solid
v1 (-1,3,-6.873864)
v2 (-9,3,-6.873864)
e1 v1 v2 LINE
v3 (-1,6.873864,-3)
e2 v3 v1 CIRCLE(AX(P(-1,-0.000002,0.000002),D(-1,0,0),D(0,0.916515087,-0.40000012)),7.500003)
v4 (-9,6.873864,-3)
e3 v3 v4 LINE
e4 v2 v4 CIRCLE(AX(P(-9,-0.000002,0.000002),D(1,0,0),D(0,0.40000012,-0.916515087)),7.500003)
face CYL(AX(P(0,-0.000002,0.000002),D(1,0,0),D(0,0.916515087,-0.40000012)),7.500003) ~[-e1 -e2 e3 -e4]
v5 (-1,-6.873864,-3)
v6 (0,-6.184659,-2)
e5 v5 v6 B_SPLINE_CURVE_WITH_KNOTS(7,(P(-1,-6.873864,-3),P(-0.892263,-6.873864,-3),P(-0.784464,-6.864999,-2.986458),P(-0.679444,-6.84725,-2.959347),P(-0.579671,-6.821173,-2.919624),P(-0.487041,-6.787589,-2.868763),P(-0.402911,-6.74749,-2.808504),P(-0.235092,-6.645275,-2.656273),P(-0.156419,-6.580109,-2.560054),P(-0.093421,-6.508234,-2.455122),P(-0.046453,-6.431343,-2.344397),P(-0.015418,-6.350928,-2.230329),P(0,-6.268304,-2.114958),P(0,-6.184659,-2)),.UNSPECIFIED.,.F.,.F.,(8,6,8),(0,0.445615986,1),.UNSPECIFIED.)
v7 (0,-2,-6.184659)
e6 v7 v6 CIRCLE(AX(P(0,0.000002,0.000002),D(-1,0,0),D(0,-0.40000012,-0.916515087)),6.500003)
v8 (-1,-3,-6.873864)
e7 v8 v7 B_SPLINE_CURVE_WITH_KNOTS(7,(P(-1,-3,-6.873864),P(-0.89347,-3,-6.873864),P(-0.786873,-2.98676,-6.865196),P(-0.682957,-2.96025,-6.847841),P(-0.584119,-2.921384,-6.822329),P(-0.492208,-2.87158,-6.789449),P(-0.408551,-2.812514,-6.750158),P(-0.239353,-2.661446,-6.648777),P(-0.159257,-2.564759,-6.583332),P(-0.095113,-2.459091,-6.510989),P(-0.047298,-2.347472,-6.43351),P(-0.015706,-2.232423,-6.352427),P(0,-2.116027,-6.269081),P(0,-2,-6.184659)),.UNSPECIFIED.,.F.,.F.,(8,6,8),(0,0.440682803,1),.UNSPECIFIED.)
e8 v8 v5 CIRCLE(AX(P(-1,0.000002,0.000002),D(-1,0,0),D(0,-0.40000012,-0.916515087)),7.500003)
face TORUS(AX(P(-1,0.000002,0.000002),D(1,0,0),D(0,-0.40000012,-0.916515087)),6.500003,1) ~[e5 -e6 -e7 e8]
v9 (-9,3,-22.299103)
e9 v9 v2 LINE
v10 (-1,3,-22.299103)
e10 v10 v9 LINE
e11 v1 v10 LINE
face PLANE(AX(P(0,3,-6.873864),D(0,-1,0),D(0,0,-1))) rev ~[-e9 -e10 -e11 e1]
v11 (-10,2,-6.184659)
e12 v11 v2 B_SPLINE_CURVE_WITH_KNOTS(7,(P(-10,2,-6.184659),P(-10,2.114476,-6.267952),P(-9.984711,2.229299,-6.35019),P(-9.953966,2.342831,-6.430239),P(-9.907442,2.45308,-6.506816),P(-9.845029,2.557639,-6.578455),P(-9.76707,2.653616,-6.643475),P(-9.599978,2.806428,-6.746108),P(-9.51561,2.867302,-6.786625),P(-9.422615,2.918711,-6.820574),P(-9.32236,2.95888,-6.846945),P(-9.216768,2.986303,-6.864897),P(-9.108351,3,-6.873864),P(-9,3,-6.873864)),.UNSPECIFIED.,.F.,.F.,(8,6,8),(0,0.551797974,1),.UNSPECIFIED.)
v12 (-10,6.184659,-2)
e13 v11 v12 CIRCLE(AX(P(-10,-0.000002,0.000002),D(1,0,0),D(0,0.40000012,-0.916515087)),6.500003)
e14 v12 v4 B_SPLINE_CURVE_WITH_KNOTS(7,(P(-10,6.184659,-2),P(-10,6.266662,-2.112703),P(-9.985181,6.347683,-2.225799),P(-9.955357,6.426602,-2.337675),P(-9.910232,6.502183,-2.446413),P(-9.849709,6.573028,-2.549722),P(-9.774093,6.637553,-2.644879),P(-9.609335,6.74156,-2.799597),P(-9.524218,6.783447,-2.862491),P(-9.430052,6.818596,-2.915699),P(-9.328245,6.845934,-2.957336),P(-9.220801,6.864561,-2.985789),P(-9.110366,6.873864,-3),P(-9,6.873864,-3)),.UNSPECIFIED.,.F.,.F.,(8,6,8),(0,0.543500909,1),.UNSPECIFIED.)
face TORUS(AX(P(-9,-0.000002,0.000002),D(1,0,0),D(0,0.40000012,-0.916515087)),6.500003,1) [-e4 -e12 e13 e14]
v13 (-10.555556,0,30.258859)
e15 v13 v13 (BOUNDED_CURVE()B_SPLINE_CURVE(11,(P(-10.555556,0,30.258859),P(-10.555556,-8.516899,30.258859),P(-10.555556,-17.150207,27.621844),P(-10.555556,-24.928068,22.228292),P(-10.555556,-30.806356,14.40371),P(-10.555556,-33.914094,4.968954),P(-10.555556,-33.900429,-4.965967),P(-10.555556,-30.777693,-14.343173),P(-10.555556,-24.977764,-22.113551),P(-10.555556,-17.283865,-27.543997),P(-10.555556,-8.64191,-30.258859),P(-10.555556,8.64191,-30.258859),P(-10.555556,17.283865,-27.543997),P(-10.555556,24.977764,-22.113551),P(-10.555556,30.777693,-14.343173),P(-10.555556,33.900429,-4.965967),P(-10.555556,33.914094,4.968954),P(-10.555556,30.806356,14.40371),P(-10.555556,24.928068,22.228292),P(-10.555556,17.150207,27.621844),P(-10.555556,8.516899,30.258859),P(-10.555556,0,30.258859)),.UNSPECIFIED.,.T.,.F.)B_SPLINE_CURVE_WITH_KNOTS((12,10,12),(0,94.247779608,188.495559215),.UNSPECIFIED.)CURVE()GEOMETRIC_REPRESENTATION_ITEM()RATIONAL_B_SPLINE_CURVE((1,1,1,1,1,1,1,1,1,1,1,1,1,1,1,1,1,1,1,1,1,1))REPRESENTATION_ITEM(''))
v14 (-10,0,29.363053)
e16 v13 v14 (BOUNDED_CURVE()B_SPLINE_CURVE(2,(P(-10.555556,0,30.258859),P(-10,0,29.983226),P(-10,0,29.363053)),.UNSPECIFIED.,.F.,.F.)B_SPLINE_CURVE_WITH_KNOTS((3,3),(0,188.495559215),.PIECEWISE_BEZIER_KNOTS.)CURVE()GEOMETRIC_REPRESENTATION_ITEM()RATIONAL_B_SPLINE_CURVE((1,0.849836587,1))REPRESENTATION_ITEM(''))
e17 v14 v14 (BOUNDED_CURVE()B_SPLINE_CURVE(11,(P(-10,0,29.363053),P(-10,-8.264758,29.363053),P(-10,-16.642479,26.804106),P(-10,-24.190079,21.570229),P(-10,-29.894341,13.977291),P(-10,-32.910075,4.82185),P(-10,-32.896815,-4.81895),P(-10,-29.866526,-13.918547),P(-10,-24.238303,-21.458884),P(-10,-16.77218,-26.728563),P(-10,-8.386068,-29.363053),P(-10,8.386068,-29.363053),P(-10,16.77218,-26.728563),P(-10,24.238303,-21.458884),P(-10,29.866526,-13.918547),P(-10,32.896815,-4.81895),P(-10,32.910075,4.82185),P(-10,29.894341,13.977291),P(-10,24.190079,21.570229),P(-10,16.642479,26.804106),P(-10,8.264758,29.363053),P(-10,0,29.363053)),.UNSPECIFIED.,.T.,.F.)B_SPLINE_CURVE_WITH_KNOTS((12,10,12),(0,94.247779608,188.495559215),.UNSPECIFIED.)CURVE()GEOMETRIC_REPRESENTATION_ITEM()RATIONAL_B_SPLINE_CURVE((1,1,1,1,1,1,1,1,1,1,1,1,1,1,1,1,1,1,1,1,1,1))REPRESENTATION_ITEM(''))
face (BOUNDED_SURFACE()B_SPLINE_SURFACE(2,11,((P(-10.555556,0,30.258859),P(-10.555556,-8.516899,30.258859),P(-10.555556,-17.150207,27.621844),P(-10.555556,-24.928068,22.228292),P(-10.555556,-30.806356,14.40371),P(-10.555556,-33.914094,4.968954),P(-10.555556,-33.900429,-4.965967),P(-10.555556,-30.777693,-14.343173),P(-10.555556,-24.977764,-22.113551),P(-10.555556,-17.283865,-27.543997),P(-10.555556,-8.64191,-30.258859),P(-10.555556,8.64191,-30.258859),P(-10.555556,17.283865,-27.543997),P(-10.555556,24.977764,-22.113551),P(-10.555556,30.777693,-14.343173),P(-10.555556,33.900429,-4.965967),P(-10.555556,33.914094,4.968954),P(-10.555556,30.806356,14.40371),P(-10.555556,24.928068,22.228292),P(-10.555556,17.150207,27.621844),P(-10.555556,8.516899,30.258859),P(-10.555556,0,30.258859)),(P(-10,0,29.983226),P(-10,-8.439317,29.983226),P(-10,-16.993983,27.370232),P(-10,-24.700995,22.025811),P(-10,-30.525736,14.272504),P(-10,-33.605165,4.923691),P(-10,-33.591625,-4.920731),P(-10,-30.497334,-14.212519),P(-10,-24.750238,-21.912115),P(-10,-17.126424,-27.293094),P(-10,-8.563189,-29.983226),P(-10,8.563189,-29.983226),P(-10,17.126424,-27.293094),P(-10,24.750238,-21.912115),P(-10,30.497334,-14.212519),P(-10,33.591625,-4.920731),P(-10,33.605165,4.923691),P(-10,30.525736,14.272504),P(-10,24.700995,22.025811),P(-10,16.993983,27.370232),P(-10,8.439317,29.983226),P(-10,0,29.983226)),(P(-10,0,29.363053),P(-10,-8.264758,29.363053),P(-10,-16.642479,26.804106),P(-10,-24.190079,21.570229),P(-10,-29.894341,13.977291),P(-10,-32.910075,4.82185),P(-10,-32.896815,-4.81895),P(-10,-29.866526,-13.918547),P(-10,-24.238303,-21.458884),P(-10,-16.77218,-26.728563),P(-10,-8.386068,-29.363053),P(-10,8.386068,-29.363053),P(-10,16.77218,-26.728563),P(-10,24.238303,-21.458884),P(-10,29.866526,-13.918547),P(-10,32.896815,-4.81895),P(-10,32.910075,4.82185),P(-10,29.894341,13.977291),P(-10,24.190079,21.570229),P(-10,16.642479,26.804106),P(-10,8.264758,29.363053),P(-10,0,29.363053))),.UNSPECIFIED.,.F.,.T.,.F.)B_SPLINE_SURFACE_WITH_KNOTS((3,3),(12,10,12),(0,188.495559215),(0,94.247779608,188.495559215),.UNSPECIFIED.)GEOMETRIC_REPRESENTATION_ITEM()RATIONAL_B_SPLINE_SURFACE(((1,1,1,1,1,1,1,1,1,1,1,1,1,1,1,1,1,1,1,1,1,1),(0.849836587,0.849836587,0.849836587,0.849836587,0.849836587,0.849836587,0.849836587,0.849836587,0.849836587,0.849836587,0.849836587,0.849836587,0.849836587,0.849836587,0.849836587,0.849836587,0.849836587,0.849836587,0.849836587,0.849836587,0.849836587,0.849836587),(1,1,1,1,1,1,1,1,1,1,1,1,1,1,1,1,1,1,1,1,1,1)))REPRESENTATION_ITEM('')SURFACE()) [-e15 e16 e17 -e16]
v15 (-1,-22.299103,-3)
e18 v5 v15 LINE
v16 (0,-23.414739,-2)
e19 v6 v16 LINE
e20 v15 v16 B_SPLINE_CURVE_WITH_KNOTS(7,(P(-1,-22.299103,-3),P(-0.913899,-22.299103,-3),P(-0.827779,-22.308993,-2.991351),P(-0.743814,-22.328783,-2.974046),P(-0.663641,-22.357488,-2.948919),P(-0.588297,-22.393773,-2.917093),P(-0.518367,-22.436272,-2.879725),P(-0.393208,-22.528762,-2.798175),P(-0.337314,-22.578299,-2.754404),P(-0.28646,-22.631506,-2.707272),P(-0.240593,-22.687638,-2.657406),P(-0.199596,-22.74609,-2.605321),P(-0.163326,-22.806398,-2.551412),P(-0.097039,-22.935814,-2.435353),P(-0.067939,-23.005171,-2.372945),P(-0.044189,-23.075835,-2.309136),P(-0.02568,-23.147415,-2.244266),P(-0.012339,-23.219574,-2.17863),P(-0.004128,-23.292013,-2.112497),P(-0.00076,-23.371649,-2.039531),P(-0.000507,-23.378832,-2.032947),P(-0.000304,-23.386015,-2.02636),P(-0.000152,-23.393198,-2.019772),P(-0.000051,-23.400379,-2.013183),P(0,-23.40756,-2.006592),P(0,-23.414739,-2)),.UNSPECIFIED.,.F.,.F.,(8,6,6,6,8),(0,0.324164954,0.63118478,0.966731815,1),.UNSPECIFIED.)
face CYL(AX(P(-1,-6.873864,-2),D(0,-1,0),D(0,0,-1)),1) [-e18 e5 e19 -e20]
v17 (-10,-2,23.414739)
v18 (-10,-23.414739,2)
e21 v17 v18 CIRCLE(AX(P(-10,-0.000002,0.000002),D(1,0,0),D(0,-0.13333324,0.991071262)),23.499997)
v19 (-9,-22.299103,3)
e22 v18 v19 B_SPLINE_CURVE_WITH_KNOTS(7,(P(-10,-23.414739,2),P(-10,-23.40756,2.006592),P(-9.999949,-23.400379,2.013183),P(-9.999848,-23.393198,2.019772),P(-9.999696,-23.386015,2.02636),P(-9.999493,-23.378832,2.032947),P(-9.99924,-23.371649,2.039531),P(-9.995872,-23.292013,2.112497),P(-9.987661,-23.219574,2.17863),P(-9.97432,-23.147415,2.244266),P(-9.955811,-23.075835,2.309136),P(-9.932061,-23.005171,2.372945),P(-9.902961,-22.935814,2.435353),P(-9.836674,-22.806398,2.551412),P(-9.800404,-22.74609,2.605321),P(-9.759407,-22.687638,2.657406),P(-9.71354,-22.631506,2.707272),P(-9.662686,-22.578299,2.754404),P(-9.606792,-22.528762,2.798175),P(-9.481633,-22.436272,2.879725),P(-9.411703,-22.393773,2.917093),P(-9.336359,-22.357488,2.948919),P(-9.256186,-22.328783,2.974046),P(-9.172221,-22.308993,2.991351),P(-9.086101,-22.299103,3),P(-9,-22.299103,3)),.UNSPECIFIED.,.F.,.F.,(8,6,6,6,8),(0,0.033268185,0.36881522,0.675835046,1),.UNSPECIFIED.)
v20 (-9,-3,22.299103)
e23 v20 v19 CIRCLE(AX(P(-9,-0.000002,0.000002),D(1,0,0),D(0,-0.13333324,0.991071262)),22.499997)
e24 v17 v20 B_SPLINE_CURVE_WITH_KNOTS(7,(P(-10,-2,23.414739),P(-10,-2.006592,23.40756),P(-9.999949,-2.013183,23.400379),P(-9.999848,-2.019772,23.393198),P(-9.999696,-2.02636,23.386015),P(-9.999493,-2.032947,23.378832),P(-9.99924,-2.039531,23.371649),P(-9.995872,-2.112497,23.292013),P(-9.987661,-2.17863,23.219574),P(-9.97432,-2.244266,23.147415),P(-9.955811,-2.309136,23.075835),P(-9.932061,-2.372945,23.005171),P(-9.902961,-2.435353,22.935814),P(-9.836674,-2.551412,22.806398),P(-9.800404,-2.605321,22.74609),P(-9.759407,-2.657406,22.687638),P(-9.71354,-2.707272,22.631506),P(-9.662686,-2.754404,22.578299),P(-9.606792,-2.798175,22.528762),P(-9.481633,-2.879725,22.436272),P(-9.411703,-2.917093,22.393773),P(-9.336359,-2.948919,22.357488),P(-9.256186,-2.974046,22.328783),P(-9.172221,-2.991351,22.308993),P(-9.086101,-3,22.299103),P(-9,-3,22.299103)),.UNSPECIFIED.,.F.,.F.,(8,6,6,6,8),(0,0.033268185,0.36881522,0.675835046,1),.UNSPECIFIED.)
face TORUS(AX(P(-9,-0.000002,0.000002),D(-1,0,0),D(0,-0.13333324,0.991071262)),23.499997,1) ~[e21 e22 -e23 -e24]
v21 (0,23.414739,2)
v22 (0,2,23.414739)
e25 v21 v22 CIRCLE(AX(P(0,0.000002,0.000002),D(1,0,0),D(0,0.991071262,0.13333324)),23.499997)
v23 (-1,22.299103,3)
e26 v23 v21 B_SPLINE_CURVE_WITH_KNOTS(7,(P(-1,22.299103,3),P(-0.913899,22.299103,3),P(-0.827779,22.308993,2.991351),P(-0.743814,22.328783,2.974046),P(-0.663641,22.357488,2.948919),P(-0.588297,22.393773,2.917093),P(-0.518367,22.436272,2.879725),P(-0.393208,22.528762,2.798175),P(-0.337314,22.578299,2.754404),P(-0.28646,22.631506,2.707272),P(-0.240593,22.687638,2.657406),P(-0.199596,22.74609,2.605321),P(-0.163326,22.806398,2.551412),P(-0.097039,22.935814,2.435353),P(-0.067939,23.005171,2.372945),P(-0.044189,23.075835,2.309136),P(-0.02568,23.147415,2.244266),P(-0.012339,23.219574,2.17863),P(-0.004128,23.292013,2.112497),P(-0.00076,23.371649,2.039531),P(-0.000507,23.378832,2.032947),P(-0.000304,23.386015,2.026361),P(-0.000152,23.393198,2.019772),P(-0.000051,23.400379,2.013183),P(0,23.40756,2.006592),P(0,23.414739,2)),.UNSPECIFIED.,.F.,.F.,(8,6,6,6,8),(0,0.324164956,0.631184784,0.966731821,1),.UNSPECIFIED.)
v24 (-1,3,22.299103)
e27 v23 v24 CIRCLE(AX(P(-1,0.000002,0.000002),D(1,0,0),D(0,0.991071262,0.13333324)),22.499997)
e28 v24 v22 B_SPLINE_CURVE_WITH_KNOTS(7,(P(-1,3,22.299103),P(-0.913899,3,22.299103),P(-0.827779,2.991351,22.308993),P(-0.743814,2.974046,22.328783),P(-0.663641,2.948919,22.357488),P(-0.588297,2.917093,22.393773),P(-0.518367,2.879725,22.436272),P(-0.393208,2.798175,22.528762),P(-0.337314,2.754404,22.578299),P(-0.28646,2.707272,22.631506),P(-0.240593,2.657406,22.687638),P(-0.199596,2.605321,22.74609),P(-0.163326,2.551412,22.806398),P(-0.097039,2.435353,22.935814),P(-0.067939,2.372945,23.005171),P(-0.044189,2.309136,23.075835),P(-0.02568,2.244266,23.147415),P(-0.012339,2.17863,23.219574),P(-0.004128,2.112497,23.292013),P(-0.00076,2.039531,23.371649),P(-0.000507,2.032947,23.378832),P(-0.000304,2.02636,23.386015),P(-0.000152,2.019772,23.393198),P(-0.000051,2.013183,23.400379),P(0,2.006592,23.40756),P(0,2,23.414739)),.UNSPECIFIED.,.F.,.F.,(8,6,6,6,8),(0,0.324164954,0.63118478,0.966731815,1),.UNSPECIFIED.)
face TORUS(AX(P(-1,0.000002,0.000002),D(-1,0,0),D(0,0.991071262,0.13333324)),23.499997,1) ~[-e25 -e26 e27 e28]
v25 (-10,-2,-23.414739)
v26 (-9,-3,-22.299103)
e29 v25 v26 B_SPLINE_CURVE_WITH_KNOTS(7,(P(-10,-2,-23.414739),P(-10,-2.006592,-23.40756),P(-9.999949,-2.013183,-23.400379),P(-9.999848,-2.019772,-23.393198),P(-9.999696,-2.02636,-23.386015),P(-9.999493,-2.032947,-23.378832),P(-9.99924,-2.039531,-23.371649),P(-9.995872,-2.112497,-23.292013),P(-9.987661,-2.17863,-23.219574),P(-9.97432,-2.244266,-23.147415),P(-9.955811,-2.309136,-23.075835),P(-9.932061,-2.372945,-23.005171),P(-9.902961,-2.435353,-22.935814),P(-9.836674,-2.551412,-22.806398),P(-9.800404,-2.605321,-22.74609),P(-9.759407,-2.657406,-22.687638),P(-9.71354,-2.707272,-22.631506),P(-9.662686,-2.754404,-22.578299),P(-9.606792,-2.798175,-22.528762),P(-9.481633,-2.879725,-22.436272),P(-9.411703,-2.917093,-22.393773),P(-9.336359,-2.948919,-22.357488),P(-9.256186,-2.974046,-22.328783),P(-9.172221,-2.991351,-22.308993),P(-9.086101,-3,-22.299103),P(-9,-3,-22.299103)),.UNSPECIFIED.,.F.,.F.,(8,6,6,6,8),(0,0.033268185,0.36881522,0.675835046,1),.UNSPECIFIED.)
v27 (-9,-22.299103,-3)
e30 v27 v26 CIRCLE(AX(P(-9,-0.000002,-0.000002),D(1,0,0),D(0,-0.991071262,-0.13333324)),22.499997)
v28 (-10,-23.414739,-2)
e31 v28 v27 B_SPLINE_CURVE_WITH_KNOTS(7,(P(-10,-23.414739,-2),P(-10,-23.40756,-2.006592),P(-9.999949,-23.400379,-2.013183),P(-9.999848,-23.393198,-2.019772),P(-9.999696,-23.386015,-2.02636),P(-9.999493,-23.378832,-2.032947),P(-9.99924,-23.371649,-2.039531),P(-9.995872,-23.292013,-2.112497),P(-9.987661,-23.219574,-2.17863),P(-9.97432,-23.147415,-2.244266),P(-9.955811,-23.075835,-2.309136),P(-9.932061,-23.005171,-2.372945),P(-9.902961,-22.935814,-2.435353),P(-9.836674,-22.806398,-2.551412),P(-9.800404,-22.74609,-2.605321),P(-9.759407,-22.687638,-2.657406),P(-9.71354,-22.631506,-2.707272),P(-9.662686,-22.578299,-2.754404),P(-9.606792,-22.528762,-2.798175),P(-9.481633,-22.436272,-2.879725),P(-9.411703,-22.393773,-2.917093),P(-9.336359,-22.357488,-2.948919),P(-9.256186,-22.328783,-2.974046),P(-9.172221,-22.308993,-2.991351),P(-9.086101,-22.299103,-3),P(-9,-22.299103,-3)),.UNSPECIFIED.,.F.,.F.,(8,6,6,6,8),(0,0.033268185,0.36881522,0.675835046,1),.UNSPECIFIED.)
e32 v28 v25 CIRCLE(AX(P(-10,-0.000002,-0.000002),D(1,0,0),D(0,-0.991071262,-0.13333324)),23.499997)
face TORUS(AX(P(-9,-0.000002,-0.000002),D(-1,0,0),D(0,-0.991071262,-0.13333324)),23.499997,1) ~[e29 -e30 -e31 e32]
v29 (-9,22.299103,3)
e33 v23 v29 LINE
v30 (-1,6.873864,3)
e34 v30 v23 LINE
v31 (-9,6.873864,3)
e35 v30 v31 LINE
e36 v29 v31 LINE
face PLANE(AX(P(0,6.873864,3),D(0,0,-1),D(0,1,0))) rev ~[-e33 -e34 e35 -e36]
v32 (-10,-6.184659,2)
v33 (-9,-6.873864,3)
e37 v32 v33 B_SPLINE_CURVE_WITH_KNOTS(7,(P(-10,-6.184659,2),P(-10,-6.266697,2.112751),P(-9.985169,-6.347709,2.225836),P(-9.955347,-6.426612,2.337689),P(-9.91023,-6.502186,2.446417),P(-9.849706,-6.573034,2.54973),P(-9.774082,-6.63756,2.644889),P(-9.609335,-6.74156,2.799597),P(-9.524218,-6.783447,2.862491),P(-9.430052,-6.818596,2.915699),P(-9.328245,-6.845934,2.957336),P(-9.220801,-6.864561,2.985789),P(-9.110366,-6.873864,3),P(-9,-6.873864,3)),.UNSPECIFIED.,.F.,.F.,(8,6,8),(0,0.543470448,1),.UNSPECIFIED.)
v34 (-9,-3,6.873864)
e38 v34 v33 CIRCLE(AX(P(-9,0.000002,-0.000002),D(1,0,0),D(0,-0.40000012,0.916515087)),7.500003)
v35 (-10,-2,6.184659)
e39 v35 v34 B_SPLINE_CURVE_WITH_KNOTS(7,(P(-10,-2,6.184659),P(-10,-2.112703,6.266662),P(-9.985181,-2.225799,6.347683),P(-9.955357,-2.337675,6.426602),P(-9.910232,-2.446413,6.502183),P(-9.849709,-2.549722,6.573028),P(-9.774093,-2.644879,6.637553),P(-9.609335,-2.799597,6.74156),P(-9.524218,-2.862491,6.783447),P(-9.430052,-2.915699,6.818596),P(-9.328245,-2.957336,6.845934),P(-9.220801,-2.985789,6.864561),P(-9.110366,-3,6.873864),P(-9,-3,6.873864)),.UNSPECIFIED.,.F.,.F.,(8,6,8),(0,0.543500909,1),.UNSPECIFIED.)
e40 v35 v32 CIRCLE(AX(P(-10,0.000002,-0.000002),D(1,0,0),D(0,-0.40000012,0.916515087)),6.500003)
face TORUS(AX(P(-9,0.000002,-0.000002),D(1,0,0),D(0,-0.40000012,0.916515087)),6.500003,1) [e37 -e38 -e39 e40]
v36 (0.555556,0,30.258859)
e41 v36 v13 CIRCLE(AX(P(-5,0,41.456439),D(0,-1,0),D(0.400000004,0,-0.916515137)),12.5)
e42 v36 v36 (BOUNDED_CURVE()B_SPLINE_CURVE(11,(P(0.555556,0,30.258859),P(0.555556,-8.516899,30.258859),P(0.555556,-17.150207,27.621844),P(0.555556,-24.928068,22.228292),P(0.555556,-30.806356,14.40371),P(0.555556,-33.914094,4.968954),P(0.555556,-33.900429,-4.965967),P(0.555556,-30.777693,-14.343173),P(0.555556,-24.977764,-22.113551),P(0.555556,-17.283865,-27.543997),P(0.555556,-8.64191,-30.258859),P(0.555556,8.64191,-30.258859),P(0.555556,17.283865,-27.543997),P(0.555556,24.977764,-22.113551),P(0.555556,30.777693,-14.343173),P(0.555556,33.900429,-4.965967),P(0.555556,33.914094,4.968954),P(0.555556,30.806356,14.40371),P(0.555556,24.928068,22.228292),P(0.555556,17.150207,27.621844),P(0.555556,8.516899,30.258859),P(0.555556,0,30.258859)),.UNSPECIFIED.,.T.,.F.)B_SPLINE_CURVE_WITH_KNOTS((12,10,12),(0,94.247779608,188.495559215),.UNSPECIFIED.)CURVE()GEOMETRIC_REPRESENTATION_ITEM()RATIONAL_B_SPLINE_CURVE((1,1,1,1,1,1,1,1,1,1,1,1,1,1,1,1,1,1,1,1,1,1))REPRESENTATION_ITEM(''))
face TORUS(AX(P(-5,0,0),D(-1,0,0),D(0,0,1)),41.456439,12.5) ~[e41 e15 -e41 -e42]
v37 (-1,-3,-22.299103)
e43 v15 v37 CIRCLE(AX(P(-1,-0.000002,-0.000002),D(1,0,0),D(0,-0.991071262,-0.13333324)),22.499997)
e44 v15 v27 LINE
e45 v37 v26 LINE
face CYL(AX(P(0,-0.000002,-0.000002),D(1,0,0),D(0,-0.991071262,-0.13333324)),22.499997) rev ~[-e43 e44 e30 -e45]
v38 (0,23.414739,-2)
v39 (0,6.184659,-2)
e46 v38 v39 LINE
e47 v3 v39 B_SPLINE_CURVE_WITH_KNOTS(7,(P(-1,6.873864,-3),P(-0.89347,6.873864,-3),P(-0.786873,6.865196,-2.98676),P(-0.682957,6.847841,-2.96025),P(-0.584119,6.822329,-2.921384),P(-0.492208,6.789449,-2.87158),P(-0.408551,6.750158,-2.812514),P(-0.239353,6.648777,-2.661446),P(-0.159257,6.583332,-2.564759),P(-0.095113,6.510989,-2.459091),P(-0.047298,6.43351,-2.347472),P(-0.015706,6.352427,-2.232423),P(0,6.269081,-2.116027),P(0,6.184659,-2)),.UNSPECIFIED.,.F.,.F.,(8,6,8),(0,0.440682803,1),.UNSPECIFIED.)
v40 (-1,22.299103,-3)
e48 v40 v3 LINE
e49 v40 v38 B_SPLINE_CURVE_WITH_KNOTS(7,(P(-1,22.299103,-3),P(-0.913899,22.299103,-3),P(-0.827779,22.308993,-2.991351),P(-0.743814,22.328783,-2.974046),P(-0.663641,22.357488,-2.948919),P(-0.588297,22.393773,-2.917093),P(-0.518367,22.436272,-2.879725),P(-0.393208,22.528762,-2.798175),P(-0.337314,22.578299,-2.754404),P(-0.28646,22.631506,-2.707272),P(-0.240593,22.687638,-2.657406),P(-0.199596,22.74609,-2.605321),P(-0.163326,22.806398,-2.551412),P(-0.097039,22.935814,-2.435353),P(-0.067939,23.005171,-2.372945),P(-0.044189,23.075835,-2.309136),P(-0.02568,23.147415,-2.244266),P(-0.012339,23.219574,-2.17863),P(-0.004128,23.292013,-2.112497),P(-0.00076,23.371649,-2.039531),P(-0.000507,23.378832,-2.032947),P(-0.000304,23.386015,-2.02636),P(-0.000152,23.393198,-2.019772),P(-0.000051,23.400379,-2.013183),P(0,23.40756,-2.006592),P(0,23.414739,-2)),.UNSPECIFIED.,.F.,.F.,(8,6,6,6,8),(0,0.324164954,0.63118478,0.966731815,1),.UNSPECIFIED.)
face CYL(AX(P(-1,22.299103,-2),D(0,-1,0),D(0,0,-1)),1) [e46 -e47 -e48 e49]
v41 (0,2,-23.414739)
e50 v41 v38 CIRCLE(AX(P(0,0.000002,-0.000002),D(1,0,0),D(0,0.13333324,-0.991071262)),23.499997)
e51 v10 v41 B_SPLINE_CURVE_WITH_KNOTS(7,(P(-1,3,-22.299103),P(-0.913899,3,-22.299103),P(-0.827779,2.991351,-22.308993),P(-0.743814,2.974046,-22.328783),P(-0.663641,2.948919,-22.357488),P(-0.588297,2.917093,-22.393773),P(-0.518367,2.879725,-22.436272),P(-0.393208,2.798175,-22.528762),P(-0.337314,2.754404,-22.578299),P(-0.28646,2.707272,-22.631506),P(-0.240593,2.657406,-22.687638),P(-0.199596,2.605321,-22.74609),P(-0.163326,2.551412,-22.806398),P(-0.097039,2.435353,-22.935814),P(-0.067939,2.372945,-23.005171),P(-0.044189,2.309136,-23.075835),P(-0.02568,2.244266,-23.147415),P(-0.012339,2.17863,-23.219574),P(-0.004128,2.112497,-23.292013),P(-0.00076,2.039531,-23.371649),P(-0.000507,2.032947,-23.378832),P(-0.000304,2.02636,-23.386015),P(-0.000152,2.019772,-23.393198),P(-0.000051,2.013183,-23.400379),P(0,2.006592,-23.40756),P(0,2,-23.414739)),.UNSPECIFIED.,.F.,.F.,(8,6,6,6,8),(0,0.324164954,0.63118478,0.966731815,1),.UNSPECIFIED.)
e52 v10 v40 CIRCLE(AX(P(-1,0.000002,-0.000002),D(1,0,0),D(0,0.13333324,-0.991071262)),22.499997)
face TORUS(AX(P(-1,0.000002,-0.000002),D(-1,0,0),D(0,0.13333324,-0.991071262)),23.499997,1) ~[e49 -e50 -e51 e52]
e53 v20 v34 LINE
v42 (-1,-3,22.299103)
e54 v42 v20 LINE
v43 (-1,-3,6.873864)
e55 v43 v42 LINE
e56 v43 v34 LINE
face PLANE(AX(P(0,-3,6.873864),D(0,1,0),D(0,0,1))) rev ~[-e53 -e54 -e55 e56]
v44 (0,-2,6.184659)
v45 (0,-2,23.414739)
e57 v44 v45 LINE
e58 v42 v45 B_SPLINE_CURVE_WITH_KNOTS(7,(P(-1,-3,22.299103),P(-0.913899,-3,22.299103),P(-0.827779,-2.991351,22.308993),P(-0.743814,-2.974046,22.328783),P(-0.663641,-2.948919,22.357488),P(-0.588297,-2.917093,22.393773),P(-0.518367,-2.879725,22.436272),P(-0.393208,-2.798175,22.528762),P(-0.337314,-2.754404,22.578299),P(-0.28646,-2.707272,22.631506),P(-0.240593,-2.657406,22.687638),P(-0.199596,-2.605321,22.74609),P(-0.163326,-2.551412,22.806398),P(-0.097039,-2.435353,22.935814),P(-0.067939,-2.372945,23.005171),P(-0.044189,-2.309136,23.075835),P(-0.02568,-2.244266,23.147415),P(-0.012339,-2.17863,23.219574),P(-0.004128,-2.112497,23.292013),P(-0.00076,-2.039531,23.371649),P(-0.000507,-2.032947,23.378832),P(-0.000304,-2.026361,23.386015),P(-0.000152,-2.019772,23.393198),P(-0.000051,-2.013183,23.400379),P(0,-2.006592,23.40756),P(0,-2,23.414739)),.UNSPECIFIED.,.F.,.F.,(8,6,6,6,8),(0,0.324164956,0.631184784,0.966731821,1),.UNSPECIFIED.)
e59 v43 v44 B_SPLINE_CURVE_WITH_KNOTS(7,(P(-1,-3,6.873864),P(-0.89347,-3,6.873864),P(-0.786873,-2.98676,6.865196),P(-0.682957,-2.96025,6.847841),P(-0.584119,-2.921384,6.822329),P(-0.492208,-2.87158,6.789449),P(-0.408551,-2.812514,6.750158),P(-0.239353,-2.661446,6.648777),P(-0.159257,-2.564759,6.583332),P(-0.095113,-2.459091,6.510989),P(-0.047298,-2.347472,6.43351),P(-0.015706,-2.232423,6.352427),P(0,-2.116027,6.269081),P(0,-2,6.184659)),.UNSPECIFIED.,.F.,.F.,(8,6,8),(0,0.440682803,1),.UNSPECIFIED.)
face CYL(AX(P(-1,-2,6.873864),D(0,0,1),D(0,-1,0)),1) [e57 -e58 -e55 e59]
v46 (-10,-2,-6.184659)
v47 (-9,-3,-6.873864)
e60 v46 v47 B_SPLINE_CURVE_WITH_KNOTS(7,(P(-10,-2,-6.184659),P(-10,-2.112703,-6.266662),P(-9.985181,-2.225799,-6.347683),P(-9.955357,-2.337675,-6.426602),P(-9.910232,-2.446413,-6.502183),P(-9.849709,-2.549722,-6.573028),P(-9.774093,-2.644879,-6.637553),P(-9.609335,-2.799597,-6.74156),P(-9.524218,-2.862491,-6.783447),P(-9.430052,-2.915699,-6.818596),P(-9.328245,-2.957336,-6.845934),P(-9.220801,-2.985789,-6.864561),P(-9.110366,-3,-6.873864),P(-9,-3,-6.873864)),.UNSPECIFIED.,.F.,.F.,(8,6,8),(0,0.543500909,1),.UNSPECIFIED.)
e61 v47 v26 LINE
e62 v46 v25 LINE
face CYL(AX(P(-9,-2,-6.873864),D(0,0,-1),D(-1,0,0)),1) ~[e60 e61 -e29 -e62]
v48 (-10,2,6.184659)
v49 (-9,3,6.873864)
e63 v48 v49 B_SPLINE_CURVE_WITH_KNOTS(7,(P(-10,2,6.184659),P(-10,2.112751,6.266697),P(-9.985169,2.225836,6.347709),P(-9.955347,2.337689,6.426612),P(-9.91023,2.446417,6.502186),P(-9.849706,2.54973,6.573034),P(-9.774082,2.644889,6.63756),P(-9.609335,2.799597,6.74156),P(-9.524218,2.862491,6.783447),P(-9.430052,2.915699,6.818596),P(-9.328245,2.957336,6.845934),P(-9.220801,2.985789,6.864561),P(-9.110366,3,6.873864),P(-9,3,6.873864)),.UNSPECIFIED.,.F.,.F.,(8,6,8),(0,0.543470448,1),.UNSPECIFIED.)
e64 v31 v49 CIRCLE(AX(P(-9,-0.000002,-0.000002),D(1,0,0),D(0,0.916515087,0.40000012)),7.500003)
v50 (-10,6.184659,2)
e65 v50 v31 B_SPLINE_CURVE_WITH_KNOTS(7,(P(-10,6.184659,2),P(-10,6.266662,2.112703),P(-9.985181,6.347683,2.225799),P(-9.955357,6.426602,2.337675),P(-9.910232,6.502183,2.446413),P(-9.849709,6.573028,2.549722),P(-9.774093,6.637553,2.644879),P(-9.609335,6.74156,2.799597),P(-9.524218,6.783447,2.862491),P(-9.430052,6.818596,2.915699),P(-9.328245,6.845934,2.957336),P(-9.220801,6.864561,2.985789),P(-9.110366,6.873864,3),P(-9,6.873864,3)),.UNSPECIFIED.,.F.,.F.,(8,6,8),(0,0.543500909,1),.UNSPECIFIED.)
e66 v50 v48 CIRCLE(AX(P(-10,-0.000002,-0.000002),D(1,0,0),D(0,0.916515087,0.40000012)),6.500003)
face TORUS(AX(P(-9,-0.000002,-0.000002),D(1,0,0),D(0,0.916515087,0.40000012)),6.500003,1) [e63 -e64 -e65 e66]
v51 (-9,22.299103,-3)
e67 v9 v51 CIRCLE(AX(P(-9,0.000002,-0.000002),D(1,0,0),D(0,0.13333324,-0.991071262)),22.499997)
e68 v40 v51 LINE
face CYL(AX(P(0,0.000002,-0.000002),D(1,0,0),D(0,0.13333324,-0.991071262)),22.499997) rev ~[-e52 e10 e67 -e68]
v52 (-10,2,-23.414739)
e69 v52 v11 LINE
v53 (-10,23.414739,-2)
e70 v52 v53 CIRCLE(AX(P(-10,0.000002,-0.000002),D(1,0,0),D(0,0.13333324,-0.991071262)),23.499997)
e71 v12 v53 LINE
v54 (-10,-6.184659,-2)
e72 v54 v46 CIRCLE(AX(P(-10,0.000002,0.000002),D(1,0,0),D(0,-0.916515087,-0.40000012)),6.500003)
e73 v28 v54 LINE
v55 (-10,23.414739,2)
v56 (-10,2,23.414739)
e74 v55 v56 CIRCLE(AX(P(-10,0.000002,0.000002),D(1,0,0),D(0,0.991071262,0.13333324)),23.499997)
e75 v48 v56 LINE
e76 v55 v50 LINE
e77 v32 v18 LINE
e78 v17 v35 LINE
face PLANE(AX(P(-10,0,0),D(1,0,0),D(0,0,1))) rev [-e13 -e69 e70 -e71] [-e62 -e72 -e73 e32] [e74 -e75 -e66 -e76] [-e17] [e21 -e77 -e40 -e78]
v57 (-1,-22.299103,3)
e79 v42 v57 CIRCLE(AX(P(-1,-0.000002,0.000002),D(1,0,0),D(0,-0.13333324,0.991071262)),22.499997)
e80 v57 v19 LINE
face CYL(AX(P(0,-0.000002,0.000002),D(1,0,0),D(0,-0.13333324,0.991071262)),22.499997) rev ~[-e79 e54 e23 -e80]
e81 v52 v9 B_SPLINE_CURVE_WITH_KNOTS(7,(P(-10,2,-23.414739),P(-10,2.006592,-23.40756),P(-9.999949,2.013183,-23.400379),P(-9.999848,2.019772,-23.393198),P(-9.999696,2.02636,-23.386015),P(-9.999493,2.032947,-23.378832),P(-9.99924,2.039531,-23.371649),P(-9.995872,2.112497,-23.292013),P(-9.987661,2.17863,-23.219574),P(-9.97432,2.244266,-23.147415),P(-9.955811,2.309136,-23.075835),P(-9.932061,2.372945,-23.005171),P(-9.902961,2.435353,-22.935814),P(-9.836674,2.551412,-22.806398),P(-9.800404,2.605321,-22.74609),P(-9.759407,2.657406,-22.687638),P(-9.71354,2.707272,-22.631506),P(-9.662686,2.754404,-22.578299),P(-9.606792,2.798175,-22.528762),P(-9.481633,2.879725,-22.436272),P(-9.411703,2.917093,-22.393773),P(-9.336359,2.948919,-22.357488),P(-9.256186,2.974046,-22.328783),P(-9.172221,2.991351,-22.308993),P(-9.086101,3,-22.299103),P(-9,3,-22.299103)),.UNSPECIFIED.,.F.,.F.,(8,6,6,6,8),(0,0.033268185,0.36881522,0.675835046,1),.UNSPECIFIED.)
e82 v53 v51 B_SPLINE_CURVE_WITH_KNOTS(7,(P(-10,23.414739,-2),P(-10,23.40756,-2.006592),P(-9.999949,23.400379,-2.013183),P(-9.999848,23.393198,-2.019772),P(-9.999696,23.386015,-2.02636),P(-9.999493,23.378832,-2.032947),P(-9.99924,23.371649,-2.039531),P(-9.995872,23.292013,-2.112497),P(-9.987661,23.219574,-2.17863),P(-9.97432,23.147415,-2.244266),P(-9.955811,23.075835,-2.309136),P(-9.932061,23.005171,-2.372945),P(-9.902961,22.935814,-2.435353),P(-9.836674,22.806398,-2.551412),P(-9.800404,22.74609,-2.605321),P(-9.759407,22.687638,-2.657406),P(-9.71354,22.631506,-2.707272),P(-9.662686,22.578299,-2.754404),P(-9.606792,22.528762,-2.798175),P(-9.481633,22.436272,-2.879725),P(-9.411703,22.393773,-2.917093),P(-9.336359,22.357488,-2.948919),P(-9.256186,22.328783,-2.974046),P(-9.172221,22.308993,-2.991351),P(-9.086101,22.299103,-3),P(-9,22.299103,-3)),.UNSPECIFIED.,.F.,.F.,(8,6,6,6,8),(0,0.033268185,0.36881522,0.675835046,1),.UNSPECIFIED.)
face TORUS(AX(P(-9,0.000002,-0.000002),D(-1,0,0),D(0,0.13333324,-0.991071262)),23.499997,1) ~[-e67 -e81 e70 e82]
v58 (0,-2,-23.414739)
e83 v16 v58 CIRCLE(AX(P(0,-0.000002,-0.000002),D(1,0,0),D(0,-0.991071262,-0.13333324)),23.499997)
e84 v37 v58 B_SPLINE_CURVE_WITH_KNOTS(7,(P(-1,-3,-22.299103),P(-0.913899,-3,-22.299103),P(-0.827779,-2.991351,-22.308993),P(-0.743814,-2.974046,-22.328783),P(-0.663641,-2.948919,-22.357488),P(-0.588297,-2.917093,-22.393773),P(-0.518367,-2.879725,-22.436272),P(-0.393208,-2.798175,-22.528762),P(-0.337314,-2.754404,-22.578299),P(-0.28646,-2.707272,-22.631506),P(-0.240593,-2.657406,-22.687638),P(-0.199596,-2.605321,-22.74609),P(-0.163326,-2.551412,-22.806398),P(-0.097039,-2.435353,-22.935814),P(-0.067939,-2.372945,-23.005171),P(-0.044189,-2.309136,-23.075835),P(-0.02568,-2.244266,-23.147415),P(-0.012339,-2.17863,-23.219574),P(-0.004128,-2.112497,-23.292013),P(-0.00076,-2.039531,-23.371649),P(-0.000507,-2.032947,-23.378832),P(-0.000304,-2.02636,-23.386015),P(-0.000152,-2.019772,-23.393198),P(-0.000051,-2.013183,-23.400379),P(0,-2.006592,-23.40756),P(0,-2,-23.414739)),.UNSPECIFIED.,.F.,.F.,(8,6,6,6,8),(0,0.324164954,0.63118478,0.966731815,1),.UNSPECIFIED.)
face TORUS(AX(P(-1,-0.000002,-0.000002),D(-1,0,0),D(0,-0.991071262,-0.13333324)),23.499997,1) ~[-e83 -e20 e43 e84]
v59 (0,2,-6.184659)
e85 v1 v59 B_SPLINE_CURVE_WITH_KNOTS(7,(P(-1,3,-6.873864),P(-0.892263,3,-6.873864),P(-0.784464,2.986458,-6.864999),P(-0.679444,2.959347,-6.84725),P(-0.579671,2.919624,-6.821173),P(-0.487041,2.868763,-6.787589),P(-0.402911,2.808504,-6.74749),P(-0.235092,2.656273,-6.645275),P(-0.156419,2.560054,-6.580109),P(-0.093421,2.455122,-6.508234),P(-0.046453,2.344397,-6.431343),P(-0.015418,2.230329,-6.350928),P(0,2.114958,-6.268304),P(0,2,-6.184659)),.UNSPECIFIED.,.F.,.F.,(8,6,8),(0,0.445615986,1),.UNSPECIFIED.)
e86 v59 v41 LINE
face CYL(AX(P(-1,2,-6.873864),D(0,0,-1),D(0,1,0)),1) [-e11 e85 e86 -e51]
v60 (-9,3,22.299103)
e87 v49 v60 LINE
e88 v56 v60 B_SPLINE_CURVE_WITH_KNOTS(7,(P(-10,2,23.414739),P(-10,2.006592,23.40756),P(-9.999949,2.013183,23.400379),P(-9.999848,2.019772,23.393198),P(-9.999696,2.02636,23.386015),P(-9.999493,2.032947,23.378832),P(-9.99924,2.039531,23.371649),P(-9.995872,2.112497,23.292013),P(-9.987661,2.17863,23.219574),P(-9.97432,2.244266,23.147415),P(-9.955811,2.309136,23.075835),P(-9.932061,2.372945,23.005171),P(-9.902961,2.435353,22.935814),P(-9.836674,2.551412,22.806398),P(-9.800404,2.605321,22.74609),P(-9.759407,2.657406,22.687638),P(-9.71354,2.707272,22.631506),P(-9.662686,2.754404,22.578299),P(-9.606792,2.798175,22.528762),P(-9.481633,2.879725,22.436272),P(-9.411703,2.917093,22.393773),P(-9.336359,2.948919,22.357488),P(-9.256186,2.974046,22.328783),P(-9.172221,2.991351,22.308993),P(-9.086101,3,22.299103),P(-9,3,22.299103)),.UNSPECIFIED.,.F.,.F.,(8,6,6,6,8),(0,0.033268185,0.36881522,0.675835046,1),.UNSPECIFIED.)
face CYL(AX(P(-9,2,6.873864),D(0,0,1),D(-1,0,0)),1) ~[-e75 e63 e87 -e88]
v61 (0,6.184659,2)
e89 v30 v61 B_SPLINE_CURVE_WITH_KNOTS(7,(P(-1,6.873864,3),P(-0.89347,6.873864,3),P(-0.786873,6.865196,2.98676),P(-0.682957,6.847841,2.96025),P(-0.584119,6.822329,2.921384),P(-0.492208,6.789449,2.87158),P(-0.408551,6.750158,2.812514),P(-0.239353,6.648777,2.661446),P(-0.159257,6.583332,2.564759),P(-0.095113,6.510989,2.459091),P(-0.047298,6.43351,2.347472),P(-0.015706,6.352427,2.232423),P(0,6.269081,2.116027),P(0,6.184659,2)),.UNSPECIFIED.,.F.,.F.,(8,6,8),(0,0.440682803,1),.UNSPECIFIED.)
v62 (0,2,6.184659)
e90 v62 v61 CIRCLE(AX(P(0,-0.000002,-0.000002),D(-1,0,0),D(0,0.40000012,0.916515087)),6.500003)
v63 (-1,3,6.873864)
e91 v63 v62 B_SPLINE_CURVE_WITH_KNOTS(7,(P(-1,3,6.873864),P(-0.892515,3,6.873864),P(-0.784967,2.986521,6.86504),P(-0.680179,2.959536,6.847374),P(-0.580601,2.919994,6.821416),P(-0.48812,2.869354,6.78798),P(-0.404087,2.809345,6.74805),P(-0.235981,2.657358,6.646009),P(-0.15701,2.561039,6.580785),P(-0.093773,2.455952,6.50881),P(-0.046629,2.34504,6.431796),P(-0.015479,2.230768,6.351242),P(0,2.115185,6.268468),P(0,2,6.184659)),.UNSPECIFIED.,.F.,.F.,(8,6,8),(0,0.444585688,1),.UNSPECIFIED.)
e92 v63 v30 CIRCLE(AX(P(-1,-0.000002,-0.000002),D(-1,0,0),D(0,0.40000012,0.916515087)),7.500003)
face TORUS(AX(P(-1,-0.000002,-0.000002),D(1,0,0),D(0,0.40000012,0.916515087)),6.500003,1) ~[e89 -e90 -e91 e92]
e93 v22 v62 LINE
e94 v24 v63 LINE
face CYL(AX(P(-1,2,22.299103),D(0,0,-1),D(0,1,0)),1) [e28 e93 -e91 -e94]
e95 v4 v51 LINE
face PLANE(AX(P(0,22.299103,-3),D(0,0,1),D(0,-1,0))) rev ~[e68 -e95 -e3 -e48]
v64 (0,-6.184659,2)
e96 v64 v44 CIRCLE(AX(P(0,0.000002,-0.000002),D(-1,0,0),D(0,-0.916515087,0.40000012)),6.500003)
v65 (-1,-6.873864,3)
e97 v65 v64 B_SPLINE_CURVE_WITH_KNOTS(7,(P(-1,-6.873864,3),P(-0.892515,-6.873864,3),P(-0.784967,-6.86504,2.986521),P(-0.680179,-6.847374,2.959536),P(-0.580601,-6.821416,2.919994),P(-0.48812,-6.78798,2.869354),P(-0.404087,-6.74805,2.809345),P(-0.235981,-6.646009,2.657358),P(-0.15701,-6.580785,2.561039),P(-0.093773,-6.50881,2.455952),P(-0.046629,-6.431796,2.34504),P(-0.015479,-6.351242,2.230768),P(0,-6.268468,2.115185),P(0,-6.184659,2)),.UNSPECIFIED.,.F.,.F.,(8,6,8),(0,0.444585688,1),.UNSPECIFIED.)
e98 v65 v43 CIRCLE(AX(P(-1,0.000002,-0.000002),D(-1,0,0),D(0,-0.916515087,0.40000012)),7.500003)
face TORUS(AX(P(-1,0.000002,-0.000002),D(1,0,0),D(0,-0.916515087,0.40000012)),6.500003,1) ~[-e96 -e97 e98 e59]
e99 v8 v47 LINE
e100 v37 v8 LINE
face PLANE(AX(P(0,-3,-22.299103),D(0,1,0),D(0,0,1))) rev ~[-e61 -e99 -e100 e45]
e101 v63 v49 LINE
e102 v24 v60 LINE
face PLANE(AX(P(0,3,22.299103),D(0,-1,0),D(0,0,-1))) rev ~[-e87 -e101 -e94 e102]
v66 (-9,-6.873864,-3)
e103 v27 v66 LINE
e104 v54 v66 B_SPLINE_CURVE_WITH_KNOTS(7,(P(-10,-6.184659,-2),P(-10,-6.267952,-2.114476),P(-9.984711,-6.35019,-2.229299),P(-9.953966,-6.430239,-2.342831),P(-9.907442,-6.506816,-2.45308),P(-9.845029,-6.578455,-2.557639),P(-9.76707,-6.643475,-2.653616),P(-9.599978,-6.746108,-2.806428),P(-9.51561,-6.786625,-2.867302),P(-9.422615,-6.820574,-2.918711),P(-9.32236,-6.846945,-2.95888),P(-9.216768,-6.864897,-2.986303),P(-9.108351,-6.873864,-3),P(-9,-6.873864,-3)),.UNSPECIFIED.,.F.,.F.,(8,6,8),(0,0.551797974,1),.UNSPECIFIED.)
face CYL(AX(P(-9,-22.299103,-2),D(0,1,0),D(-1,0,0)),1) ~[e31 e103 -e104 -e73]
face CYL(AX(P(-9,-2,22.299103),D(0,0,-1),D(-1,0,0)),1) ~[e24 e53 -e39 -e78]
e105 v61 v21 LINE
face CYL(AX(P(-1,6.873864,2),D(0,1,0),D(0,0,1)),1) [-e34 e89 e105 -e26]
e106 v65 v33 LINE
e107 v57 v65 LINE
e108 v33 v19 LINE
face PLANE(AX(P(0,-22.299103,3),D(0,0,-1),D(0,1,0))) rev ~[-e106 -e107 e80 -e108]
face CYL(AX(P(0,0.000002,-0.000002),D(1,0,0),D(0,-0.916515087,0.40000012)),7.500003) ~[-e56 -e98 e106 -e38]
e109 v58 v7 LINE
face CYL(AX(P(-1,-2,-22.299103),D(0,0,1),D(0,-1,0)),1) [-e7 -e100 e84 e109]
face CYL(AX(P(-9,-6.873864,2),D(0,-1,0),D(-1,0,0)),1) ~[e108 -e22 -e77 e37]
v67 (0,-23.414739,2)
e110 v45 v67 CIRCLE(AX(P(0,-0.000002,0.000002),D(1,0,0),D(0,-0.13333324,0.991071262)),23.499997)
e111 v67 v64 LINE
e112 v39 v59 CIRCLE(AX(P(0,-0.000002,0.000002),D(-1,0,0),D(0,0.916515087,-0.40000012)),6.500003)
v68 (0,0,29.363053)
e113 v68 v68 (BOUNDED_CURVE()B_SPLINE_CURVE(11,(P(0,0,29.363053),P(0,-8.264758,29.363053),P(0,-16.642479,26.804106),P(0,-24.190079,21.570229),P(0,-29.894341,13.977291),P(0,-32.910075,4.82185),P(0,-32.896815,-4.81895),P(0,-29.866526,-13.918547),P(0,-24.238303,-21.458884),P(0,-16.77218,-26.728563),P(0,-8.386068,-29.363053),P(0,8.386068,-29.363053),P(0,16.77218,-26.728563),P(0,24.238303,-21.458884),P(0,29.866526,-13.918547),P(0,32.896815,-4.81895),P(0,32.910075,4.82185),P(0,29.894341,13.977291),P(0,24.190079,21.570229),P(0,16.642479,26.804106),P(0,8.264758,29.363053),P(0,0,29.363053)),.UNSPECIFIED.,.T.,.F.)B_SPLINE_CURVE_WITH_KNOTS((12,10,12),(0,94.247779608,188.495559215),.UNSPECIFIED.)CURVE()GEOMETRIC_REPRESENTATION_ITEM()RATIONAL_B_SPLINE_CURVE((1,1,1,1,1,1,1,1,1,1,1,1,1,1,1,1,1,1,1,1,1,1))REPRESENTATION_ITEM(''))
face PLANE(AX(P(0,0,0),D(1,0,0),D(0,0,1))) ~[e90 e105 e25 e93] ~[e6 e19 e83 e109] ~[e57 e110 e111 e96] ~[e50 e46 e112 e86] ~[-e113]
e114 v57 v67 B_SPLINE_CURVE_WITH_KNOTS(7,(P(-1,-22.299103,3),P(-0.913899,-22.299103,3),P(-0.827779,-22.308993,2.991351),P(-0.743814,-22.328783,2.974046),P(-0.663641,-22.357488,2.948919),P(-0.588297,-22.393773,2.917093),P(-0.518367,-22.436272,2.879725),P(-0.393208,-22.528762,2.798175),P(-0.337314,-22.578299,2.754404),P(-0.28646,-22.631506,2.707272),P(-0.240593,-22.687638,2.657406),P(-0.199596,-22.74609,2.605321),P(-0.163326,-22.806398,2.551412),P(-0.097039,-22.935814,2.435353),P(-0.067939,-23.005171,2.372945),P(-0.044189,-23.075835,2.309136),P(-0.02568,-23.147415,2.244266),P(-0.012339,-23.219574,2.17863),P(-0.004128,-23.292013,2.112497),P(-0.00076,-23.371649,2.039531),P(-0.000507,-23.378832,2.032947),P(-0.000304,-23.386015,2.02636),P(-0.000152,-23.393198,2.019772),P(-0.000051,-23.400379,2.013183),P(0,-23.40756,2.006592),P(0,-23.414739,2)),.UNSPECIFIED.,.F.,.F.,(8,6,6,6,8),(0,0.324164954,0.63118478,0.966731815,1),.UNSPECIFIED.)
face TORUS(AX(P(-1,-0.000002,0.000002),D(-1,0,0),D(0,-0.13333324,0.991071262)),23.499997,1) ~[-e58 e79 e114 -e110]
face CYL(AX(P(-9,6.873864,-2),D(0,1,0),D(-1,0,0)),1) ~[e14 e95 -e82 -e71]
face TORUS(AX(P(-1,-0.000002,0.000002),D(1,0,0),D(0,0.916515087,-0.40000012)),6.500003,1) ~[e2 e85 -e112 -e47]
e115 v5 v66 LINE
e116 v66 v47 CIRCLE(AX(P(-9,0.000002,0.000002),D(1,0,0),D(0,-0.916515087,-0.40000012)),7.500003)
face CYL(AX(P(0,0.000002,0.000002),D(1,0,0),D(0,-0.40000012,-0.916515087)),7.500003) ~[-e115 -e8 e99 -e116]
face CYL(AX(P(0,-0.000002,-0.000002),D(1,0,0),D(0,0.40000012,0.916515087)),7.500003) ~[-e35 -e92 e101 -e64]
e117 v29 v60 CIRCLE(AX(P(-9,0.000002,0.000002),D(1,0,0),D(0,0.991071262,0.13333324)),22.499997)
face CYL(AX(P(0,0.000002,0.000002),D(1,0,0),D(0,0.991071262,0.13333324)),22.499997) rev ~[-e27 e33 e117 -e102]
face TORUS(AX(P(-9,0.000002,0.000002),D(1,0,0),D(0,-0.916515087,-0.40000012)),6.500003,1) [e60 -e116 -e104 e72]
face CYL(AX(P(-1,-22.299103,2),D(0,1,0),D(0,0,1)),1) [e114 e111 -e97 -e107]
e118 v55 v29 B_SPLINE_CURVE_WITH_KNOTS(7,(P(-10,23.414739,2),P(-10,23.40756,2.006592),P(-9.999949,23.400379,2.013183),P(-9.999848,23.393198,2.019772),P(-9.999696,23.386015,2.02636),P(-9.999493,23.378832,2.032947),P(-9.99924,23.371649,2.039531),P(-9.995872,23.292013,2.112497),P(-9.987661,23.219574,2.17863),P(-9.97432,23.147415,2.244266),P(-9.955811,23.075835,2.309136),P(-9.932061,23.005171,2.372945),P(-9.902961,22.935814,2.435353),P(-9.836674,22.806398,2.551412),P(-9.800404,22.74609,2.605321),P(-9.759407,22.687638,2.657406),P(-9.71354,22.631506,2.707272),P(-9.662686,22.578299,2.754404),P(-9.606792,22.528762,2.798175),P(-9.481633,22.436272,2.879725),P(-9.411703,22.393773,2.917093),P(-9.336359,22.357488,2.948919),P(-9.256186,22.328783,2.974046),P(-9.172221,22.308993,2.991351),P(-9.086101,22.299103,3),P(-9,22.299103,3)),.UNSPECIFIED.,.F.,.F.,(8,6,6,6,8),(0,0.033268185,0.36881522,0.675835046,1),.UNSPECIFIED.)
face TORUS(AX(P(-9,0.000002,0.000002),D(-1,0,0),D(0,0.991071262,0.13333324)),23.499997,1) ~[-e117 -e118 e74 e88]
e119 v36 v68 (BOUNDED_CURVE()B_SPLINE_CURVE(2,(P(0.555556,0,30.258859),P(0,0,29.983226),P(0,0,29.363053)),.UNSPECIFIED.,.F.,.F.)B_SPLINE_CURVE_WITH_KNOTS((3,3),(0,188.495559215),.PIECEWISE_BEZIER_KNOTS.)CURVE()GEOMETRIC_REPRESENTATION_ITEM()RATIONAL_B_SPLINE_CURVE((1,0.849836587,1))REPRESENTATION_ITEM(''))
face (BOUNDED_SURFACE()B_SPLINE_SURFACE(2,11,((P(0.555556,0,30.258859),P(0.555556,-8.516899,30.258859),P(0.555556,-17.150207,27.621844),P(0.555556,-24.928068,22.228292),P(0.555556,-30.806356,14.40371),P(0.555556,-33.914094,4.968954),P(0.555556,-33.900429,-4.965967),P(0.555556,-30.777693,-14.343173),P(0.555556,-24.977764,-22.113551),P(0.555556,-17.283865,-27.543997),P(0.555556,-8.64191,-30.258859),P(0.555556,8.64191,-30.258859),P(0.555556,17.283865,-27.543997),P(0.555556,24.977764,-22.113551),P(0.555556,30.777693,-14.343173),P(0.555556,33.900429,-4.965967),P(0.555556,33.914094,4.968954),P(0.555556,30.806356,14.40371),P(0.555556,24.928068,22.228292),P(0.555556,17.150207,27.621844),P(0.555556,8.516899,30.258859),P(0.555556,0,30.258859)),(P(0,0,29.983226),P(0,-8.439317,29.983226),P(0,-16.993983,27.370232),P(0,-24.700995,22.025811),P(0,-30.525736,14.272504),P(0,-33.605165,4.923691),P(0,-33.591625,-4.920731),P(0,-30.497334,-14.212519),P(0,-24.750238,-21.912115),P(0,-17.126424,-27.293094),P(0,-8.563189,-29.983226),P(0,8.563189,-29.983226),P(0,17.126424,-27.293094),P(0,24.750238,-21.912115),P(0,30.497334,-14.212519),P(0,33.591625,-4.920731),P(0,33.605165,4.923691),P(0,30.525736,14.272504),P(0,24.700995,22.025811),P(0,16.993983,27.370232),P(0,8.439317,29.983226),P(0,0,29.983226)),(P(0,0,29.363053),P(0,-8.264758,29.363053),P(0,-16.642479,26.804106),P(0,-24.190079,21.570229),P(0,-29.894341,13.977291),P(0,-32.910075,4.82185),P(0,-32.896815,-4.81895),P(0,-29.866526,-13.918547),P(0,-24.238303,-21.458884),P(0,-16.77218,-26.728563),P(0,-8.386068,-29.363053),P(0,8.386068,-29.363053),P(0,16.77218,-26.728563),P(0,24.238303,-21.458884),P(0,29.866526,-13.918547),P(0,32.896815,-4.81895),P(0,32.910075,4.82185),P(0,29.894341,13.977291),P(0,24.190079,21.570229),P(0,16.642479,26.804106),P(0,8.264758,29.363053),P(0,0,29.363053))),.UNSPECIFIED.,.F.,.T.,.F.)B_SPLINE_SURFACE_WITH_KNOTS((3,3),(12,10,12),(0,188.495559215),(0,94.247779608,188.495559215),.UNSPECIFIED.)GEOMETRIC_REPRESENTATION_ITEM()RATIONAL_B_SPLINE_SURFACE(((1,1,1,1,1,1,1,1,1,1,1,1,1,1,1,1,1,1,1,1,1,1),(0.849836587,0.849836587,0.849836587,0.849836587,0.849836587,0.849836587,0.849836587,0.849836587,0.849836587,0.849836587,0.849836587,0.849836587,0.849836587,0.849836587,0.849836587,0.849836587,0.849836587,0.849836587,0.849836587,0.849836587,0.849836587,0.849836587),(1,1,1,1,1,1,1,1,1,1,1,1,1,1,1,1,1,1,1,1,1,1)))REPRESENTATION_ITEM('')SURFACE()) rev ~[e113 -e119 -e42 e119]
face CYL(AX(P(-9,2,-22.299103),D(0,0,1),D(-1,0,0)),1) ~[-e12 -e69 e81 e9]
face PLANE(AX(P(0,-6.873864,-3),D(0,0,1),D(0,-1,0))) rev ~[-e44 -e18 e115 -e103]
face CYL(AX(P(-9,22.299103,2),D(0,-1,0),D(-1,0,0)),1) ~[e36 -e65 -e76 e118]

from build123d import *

# Parameters (mm, degrees)
F0_W     = 10
F0_H     = 30
F3_DEPTH = 25
F4_R     = 1
F5_R     = 1


with BuildPart() as f1:
    # F0 (on Front) → F1 (revolve)
    with BuildSketch(Plane.XZ):
        with Locations((-5, 15)):
            Rectangle(F0_W, F0_H)
        with BuildLine():
            ThreePointArc((0, 30), (-5, 53.956439), (-10, 30))
            Line((-10, 30), (0, 30))
        make_face()
    revolve(axis=Axis((-8.722244, 0, 0), (1, 0, 0)))

    # F2 (on Right) → F3 (cut)
    with BuildSketch(Plane.YZ):
        with BuildLine():
            Line((-3, 6.873864), (-3, 22.299103))
            ThreePointArc((-3, 22.299103), (-15.909903, 15.909903), (-22.299103, 3))
            Line((-22.299103, 3), (-6.873864, 3))
            ThreePointArc((-6.873864, 3), (-5.303301, 5.303301), (-3, 6.873864))
        make_face()
        with BuildLine():
            Line((6.873864, 3), (22.299103, 3))
            ThreePointArc((22.299103, 3), (15.909903, 15.909903), (3, 22.299103))
            Line((3, 22.299103), (3, 6.873864))
            ThreePointArc((3, 6.873864), (5.303301, 5.303301), (6.873864, 3))
        make_face()
        with BuildLine():
            Line((3, -6.873864), (3, -22.299103))
            ThreePointArc((3, -22.299103), (15.909903, -15.909903), (22.299103, -3))
            Line((22.299103, -3), (6.873864, -3))
            ThreePointArc((6.873864, -3), (5.303301, -5.303301), (3, -6.873864))
        make_face()
        with BuildLine():
            Line((-6.873864, -3), (-22.299103, -3))
            ThreePointArc((-22.299103, -3), (-15.909903, -15.909903), (-3, -22.299103))
            Line((-3, -22.299103), (-3, -6.873864))
            ThreePointArc((-3, -6.873864), (-5.303301, -5.303301), (-6.873864, -3))
        make_face()
    extrude(amount=-F3_DEPTH, mode=Mode.SUBTRACT)

    # F4
    f4_edges = [f1.edges().sort_by_distance(p)[0] for p in [
        (0, 0, -30),
        (0, 14.586483, 3),
        (0, 5.303301, 5.303301),
        (0, 3, 14.586483),
        (0, 15.909903, 15.909903),
        (0, 5.303301, -5.303301),
        (0, 14.586483, -3),
        (0, 15.909903, -15.909903),
        (0, 3, -14.586483),
        (0, -3, 14.586483),
        (0, -5.303301, 5.303301),
        (0, -14.586483, 3),
        (0, -15.909903, 15.909903),
        (0, -5.303301, -5.303301),
        (0, -3, -14.586483),
        (0, -15.909903, -15.909903),
        (0, -14.586483, -3),
    ]]
    fillet(f4_edges, radius=F4_R)

    # F5
    f5_edges = [f1.edges().sort_by_distance(p)[0] for p in [
        (-10, 0, -30),
        (-10, 3, -14.586483),
        (-10, 15.909903, -15.909903),
        (-10, 14.586483, -3),
        (-10, 5.303301, -5.303301),
        (-10, 15.909903, 15.909903),
        (-10, 3, 14.586483),
        (-10, 5.303301, 5.303301),
        (-10, 14.586483, 3),
        (-10, -14.586483, -3),
        (-10, -15.909903, -15.909903),
        (-10, -3, -14.586483),
        (-10, -5.303301, -5.303301),
        (-10, -15.909903, 15.909903),
        (-10, -14.586483, 3),
        (-10, -5.303301, 5.303301),
        (-10, -3, 14.586483),
    ]]
    fillet(f5_edges, radius=F5_R)


solid = f1.part
